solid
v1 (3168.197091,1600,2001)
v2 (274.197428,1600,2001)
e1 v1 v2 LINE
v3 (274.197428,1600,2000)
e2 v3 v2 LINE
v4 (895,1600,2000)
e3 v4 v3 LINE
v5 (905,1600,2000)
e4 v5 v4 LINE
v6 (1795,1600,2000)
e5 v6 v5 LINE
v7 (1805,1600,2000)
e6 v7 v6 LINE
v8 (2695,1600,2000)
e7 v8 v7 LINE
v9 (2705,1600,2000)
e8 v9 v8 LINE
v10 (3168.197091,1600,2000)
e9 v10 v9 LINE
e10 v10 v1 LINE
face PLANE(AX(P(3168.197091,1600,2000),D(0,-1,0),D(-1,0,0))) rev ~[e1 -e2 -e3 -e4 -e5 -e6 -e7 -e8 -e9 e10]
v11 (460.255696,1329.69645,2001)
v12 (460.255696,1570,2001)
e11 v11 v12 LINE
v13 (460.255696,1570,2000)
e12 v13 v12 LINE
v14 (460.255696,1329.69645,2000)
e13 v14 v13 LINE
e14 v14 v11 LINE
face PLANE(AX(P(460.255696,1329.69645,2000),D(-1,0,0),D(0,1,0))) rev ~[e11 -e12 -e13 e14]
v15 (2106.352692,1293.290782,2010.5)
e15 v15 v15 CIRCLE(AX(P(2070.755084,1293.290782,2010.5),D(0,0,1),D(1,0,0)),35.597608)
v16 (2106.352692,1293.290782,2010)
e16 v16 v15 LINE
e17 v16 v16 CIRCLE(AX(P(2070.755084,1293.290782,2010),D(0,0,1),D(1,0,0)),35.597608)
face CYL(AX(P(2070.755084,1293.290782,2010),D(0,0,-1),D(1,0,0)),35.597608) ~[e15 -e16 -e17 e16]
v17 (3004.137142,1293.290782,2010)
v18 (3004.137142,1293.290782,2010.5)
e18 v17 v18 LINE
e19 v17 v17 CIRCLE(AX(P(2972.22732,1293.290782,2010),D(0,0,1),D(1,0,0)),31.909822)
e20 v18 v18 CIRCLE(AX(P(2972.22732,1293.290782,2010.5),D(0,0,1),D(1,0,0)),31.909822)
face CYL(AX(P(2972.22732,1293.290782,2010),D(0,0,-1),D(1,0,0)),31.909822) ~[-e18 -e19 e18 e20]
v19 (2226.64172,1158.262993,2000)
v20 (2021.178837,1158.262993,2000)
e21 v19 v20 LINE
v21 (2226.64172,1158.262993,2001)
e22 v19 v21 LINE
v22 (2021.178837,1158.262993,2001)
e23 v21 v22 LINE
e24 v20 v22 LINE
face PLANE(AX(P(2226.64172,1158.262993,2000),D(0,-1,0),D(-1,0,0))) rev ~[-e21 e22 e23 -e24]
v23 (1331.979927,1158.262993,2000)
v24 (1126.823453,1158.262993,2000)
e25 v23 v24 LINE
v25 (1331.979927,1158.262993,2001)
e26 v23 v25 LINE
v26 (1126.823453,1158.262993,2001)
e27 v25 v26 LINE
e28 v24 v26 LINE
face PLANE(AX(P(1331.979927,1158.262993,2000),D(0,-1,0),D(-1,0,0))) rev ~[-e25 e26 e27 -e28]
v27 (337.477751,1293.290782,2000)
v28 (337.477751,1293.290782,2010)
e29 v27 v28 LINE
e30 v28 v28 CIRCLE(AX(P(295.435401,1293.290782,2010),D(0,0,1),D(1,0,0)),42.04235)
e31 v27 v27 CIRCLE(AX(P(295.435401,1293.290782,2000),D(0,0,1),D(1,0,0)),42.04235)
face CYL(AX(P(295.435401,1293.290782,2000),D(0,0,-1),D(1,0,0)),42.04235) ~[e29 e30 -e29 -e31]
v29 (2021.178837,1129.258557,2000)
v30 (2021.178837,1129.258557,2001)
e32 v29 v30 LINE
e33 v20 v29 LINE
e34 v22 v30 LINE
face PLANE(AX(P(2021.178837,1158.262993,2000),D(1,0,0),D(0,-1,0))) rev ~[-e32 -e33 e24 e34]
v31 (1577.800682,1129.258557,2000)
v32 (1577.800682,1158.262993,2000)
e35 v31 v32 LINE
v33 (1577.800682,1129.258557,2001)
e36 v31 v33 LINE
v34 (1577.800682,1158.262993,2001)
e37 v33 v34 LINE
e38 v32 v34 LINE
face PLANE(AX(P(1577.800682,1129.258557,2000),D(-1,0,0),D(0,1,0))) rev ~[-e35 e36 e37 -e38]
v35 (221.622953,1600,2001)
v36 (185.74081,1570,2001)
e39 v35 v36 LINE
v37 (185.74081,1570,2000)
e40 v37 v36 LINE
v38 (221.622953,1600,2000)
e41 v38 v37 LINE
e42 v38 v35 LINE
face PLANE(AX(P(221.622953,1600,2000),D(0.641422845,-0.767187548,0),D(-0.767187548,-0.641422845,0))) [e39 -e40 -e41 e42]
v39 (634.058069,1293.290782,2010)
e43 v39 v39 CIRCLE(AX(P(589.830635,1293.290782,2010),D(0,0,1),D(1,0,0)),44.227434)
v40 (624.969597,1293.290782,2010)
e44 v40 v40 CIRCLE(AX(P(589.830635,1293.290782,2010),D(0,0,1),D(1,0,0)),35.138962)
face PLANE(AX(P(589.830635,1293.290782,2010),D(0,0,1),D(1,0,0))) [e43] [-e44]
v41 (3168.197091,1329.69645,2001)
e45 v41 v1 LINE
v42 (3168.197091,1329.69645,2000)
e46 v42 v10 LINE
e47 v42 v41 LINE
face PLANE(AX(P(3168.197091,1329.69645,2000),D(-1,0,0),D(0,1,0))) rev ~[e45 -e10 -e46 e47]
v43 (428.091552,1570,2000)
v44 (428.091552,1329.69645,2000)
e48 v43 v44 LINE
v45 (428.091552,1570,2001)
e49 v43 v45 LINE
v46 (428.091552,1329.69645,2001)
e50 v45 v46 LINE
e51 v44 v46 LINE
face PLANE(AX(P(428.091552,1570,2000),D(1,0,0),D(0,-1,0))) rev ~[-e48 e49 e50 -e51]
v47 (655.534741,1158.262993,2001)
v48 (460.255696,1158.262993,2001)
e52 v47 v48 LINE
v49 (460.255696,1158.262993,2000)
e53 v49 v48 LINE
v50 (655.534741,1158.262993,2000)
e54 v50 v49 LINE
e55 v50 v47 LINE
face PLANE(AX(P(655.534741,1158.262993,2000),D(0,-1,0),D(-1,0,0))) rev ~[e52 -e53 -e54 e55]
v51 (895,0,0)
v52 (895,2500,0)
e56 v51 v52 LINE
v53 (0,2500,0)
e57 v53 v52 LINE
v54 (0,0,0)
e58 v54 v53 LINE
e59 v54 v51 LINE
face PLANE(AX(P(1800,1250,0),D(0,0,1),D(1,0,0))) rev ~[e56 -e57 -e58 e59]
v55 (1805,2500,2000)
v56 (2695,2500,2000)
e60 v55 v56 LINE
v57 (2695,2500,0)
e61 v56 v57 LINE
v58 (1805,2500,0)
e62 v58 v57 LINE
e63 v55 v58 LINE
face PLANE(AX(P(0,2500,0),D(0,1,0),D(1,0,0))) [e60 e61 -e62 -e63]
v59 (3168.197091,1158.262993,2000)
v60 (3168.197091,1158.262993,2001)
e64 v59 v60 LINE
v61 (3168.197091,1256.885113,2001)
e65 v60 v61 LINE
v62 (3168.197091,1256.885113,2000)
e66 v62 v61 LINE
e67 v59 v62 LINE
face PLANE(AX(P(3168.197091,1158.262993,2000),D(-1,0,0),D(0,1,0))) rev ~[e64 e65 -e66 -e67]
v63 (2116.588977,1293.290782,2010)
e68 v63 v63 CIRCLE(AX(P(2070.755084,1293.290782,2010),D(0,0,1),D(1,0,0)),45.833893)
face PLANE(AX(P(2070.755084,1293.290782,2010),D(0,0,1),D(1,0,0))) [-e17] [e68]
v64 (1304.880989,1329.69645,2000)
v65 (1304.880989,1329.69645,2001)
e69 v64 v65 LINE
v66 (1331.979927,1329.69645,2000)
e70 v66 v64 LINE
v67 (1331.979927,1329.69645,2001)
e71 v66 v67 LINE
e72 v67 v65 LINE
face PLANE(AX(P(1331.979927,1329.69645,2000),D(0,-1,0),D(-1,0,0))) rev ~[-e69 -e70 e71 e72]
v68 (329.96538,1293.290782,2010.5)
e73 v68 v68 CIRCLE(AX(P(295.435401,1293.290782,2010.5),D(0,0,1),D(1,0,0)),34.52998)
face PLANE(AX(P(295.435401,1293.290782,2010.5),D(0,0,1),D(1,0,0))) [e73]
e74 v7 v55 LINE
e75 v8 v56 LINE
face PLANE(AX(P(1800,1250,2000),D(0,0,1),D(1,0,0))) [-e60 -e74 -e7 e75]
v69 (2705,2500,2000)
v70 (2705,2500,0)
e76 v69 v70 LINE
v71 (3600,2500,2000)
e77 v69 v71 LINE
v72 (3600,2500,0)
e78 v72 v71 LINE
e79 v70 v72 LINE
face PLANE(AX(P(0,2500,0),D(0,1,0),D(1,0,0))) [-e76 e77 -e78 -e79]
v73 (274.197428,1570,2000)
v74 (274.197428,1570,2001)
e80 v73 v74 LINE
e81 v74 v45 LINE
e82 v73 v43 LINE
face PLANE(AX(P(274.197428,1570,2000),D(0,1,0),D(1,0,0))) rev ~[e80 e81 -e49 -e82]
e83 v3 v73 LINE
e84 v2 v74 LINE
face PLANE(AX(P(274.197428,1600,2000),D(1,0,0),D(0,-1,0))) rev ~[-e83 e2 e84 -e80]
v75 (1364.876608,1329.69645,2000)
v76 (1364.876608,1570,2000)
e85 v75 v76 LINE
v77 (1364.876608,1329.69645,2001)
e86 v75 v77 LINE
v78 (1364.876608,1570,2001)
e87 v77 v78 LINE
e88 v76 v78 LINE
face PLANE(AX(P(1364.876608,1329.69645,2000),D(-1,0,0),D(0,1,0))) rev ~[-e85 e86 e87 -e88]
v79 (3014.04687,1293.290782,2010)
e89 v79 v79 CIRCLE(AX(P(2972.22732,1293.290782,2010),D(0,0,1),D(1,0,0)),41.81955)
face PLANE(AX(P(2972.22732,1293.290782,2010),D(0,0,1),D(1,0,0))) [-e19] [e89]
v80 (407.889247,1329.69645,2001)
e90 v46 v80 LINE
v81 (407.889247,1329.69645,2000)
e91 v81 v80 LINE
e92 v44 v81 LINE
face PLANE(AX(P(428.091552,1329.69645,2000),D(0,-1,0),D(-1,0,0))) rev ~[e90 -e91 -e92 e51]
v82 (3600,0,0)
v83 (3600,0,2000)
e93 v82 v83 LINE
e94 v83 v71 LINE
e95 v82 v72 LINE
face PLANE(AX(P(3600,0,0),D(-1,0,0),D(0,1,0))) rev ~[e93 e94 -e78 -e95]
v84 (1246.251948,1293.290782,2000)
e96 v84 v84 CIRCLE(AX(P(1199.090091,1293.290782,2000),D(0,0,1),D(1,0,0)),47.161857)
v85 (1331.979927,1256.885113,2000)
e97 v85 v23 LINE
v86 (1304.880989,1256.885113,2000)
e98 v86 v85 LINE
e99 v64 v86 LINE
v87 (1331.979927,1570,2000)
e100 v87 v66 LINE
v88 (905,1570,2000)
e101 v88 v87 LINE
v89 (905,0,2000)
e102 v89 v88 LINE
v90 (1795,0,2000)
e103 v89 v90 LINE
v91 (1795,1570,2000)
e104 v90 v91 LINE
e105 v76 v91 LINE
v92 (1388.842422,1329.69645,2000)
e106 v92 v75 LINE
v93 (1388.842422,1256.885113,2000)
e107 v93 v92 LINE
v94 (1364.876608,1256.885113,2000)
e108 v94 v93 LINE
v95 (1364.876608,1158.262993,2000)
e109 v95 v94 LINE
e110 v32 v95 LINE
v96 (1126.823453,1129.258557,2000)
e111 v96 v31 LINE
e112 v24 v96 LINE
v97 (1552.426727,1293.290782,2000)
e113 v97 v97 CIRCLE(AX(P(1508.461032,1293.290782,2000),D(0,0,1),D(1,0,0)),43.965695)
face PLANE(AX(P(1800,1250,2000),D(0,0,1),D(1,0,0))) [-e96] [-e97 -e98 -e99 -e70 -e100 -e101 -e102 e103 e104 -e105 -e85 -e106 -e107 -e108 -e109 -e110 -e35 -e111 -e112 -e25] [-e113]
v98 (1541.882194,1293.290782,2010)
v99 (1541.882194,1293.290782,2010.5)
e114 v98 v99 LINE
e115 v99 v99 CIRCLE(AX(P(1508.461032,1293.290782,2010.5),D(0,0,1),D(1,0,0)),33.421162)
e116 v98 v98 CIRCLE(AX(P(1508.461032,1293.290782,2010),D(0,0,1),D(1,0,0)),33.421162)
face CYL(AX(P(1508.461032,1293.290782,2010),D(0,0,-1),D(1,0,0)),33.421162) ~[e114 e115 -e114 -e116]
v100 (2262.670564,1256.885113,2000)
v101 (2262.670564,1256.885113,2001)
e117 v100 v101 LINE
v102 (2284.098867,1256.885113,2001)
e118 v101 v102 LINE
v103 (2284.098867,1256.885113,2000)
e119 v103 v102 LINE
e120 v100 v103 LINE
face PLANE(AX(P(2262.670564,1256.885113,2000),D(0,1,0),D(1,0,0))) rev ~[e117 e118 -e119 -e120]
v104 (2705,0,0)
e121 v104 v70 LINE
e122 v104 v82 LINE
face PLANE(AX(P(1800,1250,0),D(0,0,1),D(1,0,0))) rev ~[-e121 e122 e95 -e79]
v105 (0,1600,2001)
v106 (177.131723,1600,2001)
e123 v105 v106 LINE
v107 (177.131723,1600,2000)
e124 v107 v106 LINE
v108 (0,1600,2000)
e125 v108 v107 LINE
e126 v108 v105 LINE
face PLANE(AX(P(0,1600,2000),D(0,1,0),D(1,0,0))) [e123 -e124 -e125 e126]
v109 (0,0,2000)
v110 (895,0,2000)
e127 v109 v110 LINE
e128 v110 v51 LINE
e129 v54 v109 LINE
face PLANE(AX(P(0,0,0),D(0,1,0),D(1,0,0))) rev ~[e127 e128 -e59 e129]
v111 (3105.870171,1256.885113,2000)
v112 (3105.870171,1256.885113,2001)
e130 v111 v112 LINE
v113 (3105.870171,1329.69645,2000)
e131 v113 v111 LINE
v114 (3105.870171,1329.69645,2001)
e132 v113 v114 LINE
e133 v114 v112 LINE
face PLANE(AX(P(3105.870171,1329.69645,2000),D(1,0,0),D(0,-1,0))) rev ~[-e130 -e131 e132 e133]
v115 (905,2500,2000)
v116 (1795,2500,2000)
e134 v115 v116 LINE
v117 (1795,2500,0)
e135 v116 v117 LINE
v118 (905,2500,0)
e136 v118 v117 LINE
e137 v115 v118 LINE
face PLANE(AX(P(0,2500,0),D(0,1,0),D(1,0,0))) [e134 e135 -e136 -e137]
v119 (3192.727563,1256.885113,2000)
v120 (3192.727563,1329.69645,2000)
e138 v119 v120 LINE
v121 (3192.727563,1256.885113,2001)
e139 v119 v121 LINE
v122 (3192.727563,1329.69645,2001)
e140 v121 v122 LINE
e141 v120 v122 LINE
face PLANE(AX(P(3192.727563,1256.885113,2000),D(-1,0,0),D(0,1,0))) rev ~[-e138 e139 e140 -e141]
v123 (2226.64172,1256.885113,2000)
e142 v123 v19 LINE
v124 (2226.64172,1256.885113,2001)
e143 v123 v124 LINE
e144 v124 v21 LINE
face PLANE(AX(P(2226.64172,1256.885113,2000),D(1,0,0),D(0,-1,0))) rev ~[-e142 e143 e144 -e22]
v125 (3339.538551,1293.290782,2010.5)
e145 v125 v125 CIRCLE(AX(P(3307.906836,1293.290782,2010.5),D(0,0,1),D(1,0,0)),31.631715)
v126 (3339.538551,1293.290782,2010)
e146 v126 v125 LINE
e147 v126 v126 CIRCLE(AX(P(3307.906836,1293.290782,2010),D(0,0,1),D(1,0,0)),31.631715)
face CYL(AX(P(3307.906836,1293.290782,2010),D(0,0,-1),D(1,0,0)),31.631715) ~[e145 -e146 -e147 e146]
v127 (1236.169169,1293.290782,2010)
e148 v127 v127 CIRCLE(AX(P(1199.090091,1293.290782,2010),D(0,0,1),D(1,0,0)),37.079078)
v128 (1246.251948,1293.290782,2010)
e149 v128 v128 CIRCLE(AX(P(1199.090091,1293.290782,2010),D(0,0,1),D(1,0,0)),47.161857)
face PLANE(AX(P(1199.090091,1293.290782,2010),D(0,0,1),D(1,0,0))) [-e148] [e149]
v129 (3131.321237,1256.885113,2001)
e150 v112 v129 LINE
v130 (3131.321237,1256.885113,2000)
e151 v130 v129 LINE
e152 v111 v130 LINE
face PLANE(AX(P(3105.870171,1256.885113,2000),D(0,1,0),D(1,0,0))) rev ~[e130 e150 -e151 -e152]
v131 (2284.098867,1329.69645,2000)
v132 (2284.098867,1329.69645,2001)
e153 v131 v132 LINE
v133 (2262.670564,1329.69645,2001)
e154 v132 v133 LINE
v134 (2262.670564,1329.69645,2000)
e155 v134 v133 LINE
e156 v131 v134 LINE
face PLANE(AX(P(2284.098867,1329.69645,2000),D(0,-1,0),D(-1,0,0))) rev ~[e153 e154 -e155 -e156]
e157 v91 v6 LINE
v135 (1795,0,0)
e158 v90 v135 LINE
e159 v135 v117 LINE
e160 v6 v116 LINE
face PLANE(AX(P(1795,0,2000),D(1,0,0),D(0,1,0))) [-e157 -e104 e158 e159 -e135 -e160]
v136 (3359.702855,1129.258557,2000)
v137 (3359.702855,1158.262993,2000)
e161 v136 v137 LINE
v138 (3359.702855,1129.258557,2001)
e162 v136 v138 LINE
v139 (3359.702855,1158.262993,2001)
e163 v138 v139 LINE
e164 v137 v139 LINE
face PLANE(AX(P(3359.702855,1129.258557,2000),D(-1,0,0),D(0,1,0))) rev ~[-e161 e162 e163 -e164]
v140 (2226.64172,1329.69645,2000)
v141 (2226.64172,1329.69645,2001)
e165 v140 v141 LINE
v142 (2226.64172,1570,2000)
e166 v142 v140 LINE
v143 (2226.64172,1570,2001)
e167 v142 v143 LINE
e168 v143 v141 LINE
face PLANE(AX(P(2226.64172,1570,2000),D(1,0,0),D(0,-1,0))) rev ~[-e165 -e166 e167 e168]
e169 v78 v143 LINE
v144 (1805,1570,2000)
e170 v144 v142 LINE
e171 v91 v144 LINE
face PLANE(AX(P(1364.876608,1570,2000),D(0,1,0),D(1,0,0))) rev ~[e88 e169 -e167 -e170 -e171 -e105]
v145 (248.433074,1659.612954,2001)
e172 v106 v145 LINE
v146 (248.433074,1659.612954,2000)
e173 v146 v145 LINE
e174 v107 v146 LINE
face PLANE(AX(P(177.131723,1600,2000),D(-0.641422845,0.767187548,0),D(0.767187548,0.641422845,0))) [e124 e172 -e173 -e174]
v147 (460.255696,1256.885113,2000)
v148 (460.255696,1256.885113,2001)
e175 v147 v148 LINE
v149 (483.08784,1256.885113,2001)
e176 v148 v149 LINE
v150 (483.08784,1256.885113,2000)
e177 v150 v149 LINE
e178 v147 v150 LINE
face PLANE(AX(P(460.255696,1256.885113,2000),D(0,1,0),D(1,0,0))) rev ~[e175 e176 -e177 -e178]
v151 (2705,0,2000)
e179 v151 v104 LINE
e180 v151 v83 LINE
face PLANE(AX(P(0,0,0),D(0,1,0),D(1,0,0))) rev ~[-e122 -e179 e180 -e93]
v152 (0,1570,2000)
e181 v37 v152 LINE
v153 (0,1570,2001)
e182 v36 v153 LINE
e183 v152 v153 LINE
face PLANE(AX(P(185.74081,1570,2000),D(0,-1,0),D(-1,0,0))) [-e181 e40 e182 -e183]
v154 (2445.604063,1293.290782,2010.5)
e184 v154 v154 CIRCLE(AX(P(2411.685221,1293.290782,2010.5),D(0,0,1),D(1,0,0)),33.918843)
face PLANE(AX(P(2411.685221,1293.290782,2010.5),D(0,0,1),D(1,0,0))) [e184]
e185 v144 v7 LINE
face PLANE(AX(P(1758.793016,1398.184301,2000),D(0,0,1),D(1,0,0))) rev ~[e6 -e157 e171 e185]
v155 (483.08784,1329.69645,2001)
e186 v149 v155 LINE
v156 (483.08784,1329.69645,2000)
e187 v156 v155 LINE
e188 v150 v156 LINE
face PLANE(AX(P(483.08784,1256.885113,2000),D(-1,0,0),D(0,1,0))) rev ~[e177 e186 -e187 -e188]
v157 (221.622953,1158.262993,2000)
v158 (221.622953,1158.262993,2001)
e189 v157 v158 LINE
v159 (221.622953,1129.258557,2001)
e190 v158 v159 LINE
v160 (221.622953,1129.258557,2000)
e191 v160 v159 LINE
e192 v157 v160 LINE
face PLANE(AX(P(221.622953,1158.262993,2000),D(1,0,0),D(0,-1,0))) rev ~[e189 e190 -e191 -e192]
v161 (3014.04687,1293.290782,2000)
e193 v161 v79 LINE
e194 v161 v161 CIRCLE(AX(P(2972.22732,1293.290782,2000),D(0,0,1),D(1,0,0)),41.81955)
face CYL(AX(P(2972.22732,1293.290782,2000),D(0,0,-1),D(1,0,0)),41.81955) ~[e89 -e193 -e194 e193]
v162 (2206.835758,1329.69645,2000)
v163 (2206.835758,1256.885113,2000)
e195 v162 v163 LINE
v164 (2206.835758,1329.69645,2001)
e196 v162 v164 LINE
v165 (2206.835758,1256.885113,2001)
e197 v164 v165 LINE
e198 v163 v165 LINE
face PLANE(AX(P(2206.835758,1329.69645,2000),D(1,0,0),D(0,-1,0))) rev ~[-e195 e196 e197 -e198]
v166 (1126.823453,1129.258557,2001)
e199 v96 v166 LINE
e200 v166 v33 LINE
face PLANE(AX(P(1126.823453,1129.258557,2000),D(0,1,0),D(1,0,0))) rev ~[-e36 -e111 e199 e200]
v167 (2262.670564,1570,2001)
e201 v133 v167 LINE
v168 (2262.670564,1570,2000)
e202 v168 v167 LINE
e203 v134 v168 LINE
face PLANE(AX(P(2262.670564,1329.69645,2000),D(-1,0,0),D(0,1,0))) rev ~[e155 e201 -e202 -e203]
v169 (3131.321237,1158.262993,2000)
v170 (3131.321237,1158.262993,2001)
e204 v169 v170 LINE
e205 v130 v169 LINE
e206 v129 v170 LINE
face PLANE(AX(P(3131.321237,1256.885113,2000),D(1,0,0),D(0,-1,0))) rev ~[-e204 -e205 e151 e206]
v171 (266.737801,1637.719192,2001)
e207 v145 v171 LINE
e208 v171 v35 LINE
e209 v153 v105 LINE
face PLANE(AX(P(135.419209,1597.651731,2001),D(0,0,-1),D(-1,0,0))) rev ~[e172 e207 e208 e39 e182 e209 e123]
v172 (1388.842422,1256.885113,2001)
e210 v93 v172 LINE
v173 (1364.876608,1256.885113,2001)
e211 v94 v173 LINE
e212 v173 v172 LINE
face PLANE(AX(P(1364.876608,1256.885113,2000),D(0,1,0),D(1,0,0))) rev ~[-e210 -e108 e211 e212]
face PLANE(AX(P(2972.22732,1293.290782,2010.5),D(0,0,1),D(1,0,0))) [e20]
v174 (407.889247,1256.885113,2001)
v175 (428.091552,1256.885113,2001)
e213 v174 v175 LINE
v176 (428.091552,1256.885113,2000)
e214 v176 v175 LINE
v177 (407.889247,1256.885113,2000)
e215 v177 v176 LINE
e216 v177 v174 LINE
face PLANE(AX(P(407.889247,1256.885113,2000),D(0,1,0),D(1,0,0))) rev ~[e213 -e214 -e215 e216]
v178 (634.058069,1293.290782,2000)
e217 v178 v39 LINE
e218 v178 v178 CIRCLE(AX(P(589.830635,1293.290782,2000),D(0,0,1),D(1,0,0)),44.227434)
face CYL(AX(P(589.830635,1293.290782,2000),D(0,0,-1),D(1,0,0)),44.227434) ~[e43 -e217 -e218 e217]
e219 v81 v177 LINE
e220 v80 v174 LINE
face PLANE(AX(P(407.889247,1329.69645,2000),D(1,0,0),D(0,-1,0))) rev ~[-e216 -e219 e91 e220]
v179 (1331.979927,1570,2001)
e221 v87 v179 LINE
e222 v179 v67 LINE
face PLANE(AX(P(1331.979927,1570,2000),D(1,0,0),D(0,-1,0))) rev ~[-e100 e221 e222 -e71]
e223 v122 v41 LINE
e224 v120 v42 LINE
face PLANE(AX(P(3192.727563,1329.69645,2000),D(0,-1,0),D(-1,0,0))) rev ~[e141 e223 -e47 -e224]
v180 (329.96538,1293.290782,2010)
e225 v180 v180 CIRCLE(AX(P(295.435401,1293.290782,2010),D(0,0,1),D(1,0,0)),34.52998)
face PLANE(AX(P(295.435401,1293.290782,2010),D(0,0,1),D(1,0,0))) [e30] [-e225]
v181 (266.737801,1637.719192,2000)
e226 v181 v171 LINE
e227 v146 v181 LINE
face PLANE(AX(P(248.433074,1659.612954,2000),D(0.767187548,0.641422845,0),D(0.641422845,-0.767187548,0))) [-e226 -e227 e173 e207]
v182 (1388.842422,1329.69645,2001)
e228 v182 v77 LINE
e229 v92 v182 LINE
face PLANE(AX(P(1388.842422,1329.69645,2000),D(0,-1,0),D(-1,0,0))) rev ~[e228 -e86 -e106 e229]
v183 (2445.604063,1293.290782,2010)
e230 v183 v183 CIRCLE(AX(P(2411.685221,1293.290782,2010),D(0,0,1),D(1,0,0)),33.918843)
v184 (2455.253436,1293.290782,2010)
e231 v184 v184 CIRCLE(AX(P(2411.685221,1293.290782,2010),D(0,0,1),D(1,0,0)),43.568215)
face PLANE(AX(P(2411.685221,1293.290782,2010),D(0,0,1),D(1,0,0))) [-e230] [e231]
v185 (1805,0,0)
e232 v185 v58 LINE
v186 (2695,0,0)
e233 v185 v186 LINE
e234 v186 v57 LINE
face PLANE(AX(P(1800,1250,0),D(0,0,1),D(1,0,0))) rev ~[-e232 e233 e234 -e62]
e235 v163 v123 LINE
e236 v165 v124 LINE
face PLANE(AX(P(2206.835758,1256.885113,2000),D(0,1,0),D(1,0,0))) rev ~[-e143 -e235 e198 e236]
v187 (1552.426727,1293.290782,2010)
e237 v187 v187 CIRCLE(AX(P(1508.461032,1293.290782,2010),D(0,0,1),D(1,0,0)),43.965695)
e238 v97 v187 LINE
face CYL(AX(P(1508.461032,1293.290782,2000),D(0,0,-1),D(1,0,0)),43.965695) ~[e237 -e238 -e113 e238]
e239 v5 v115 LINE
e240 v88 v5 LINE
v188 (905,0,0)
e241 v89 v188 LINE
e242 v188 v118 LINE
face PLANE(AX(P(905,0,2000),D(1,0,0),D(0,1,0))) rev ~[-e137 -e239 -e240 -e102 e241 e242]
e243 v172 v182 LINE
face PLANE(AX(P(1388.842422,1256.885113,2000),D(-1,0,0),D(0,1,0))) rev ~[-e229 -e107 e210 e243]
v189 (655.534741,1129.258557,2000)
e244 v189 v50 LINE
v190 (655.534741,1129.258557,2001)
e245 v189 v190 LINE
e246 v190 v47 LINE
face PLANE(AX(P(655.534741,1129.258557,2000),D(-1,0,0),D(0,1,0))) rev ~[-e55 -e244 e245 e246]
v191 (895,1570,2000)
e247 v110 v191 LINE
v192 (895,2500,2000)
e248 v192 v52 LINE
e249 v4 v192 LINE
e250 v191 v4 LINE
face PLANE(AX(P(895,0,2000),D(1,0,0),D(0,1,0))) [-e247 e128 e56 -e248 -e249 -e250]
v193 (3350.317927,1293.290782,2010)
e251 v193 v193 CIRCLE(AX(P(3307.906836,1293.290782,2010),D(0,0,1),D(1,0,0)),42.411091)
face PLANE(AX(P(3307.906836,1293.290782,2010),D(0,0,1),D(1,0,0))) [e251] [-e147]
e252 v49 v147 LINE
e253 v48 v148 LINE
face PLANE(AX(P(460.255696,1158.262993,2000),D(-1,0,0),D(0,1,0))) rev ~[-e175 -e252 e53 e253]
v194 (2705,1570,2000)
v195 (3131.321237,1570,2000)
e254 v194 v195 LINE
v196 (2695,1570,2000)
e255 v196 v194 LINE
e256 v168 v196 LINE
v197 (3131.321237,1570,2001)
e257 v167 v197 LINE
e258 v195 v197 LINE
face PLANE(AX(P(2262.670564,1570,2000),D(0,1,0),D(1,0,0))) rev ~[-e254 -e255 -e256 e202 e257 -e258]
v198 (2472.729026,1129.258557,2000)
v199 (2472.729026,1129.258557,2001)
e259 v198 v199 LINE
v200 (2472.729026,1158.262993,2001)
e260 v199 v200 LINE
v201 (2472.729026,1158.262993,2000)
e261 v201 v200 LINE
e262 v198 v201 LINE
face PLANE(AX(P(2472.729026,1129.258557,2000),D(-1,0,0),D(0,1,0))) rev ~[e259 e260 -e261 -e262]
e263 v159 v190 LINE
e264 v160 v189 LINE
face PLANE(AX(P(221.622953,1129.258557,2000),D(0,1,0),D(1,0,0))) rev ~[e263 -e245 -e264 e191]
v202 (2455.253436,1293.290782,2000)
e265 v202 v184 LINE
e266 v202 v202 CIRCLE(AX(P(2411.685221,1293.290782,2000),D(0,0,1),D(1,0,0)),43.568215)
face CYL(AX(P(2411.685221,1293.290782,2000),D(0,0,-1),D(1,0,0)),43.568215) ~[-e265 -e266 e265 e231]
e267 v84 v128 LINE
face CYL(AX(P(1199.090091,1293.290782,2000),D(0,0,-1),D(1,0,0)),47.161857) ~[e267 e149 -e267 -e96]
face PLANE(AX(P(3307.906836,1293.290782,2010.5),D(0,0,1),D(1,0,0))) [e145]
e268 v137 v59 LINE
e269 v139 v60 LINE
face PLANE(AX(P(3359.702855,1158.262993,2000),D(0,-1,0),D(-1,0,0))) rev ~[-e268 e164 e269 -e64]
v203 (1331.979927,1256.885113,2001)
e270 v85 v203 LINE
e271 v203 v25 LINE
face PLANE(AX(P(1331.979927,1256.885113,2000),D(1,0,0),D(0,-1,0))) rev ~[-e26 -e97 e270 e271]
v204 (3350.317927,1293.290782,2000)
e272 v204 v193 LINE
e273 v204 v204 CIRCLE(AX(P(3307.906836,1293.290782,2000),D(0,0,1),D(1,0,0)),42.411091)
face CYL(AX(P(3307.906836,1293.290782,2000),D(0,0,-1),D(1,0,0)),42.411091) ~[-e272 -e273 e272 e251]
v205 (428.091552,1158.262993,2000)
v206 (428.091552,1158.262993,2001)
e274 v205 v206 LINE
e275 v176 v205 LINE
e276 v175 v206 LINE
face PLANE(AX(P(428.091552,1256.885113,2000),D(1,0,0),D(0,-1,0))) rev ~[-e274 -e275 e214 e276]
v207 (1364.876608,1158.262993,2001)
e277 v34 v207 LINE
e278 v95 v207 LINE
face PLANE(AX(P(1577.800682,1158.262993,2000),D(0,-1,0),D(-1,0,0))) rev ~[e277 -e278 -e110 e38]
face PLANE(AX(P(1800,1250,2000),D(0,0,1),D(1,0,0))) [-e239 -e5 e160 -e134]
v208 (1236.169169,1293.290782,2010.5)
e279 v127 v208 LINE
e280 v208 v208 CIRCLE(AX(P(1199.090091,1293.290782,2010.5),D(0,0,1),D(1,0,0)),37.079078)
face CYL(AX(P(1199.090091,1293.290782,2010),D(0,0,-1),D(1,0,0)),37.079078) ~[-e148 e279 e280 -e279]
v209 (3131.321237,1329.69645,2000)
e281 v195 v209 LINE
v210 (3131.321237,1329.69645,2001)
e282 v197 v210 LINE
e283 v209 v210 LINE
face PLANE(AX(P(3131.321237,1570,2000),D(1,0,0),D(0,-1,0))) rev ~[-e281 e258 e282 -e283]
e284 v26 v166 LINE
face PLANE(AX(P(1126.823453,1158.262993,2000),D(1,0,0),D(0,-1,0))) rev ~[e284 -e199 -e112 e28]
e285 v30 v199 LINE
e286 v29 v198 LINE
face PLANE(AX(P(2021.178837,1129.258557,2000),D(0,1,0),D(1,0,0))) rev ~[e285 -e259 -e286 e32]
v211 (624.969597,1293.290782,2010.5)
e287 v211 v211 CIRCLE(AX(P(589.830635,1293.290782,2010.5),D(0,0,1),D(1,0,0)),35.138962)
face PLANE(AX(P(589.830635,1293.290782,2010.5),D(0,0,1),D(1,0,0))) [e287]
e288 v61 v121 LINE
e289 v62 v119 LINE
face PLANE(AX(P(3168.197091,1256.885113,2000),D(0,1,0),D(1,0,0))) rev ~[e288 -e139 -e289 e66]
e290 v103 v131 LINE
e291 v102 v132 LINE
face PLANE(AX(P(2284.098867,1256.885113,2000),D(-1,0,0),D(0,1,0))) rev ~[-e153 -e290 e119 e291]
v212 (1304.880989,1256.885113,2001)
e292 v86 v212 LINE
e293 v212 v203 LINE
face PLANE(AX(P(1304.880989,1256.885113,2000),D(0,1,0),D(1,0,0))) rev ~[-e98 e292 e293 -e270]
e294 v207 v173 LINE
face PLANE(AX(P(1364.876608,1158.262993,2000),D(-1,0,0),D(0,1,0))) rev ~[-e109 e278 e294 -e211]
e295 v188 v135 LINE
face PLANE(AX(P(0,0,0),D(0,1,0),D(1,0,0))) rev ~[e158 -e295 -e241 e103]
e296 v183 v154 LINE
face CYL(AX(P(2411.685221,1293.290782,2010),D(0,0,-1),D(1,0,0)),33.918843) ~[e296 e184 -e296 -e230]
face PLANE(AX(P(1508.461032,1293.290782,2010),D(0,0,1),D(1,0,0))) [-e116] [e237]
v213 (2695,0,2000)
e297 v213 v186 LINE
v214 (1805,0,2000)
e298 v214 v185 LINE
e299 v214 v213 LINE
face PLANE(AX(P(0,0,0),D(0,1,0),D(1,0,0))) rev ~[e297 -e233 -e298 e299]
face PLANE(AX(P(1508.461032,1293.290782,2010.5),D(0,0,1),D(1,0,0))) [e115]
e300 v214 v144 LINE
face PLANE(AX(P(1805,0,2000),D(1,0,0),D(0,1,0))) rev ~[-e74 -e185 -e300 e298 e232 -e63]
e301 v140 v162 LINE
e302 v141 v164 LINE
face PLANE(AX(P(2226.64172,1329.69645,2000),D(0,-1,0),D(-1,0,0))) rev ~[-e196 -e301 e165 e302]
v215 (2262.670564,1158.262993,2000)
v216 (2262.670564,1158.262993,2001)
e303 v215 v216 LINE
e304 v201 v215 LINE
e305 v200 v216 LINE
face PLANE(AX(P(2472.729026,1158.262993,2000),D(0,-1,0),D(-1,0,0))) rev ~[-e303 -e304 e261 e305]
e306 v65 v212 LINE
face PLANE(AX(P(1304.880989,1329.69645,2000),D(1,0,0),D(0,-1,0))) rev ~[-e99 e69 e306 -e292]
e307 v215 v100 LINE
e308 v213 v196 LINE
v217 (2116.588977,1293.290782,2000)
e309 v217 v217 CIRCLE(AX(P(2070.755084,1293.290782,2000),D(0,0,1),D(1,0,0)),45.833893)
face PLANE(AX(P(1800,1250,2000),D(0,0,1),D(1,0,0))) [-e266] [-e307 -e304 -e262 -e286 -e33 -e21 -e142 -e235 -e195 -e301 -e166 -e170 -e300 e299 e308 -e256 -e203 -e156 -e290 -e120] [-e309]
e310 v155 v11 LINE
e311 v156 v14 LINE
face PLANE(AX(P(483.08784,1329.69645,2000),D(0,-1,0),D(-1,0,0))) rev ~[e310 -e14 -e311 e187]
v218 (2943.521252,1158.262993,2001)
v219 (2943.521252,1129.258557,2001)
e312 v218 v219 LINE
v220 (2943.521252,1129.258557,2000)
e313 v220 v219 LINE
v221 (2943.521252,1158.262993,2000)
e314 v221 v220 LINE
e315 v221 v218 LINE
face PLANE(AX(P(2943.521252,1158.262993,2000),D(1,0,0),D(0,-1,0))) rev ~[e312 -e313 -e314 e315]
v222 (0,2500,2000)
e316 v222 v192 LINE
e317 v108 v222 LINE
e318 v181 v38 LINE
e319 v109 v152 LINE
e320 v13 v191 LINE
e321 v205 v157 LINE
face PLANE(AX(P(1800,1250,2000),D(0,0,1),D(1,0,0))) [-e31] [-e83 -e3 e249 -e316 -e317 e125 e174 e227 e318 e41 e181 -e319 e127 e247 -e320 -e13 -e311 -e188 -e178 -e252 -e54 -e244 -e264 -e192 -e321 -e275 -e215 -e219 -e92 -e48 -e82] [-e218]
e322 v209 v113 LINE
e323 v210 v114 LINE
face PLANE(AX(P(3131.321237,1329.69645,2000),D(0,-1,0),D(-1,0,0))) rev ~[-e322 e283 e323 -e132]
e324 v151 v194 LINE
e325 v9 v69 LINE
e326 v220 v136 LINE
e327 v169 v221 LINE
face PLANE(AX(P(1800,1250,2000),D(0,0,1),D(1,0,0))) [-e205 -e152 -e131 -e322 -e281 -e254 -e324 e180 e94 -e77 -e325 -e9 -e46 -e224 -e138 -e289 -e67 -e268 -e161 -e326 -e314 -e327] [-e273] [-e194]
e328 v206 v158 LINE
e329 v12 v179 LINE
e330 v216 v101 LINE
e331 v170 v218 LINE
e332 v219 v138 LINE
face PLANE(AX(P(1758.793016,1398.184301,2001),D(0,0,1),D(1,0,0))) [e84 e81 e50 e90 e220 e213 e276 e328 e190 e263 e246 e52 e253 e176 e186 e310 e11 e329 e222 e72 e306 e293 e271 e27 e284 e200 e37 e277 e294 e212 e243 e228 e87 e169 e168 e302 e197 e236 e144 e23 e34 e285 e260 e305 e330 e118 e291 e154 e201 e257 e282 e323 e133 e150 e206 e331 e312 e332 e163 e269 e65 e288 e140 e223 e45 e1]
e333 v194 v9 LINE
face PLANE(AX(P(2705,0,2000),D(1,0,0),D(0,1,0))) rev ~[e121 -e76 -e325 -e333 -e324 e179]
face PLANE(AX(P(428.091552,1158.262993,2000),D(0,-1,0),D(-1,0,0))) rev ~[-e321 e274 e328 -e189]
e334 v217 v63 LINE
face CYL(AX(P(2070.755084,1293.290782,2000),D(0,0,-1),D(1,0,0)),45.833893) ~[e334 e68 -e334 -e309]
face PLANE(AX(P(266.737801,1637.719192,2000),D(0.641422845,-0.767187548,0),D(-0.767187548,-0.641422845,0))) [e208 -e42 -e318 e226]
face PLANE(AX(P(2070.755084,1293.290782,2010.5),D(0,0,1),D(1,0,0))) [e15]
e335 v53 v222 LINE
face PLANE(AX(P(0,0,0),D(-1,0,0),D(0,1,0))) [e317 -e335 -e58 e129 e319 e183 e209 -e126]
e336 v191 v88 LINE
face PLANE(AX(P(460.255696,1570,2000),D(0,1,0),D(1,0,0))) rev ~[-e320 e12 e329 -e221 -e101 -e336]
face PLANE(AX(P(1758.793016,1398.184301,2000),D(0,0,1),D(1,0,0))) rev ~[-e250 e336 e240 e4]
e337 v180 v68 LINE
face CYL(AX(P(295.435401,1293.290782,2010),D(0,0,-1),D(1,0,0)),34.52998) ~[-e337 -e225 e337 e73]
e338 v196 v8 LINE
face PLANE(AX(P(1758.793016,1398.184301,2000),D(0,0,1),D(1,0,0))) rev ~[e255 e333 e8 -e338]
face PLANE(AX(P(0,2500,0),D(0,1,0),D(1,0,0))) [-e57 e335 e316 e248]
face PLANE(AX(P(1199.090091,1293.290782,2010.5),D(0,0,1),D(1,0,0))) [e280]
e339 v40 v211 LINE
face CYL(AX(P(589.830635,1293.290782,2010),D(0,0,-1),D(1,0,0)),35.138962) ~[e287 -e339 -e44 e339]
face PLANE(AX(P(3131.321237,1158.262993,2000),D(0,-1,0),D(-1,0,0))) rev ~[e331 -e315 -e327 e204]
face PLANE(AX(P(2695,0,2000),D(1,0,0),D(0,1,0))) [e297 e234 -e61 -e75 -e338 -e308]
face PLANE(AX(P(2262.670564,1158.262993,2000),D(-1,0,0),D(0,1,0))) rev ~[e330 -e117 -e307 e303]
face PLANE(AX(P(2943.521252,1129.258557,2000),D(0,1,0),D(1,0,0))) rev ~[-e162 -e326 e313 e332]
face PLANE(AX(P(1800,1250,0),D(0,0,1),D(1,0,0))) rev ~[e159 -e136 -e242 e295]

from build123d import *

# Parameters (mm, degrees)
CROQUIS1_W              = 3600
CROQUIS1_H              = 2500
SALIENTE_EXTRUIR1_DEPTH = 2000
CROQUIS3_W              = 10
CROQUIS3_H              = 2500
CORTAR_EXTRUIR1_DEPTH   = 2000
SALIENTE_EXTRUIR2_DEPTH = 1
CROQUIS5_R              = 42.042349856
CROQUIS5_R_2            = 44.227433636
CROQUIS5_R_3            = 47.161857107
CROQUIS5_R_4            = 43.965695281
CROQUIS5_R_5            = 45.833892846
CROQUIS5_R_6            = 43.568215229
CROQUIS5_R_7            = 41.81955042
CROQUIS5_R_8            = 42.411091006
SALIENTE_EXTRUIR3_DEPTH = 10
CROQUIS6_R              = 34.529979584
CROQUIS6_R_2            = 35.138962303
CROQUIS6_R_3            = 37.079078028
CROQUIS6_R_4            = 33.421162006
CROQUIS6_R_5            = 35.597607771
CROQUIS6_R_6            = 33.918842717
CROQUIS6_R_7            = 31.90982207
CROQUIS6_R_8            = 31.631714901
SALIENTE_EXTRUIR4_DEPTH = 0.5


with BuildPart() as part:
    # Croquis1 → Saliente-Extruir1 (new body)
    with BuildSketch(Plane.XY):
        with Locations((1800, 1250)):
            Rectangle(CROQUIS1_W, CROQUIS1_H)
    extrude(amount=SALIENTE_EXTRUIR1_DEPTH)

    # Croquis3 → Cortar-Extruir1 (cut)
    with BuildSketch(Plane.XY.offset(2000)):
        with Locations((900, 1250)):
            Rectangle(CROQUIS3_W, CROQUIS3_H)
        with Locations((1800, 1250)):
            Rectangle(CROQUIS3_W, CROQUIS3_H)
        with Locations((2700, 1250)):
            Rectangle(CROQUIS3_W, CROQUIS3_H)
    extrude(amount=-CORTAR_EXTRUIR1_DEPTH, mode=Mode.SUBTRACT)

    # Croquis4 → Saliente-Extruir2 (add)
    with BuildSketch(Plane.XY.offset(2000)):
        Polygon((0, 1600), (177.131722561, 1600), (248.433073904, 1659.612953528), (266.737801234, 1637.719191898), (221.622952956, 1600), (185.740809669, 1570), (0, 1570), align=None)
        Polygon((2262.67056397, 1570), (3131.321237056, 1570), (3131.321237056, 1329.696449822), (3105.870170693, 1329.696449822), (3105.870170693, 1256.885113309), (3131.321237056, 1256.885113309), (3131.321237056, 1158.262993453), (2943.521251595, 1158.262993453), (2943.521251595, 1129.2585574), (3359.702855334, 1129.2585574), (3359.702855334, 1158.262993453), (3168.197091237, 1158.262993453), (3168.197091237, 1256.885113309), (3192.727563387, 1256.885113309), (3192.727563387, 1329.696449822), (3168.197091237, 1329.696449822), (3168.197091237, 1570), (3168.197091237, 1600), (274.19742775, 1600), (274.19742775, 1570), (428.091552217, 1570), (428.091552217, 1329.696449822), (407.889246887, 1329.696449822), (407.889246887, 1256.885113309), (428.091552217, 1256.885113309), (428.091552217, 1158.262993453), (221.622952956, 1158.262993453), (221.622952956, 1129.2585574), (655.534740684, 1129.2585574), (655.534740684, 1158.262993453), (460.255695781, 1158.262993453), (460.255695781, 1256.885113309), (483.087840335, 1256.885113309), (483.087840335, 1329.696449822), (460.255695781, 1329.696449822), (460.255695781, 1570), (1331.979926835, 1570), (1331.979926835, 1329.696449822), (1304.880988731, 1329.696449822), (1304.880988731, 1256.885113309), (1331.979926835, 1256.885113309), (1331.979926835, 1158.262993453), (1126.823452844, 1158.262993453), (1126.823452844, 1129.2585574), (1577.800681664, 1129.2585574), (1577.800681664, 1158.262993453), (1364.876608308, 1158.262993453), (1364.876608308, 1256.885113309), (1388.842422483, 1256.885113309), (1388.842422483, 1329.696449822), (1364.876608308, 1329.696449822), (1364.876608308, 1570), (2226.641720181, 1570), (2226.641720181, 1329.696449822), (2206.83575822, 1329.696449822), (2206.83575822, 1256.885113309), (2226.641720181, 1256.885113309), (2226.641720181, 1158.262993453), (2021.178837256, 1158.262993453), (2021.178837256, 1129.2585574), (2472.729026323, 1129.2585574), (2472.729026323, 1158.262993453), (2262.67056397, 1158.262993453), (2262.67056397, 1256.885113309), (2284.098867396, 1256.885113309), (2284.098867396, 1329.696449822), (2262.67056397, 1329.696449822), align=None)
    extrude(amount=SALIENTE_EXTRUIR2_DEPTH)

    # Croquis5 → Saliente-Extruir3 (add)
    with BuildSketch(Plane.XY.offset(2000)):
        with Locations((295.435400679, 1293.290781566)):
            Circle(CROQUIS5_R)
        with Locations((589.830635079, 1293.290781566)):
            Circle(CROQUIS5_R_2)
        with Locations((1199.09009137, 1293.290781566)):
            Circle(CROQUIS5_R_3)
        with Locations((1508.461031639, 1293.290781566)):
            Circle(CROQUIS5_R_4)
        with Locations((2070.755084005, 1293.290781566)):
            Circle(CROQUIS5_R_5)
        with Locations((2411.685220759, 1293.290781566)):
            Circle(CROQUIS5_R_6)
        with Locations((2972.227319814, 1293.290781566)):
            Circle(CROQUIS5_R_7)
        with Locations((3307.906835958, 1293.290781566)):
            Circle(CROQUIS5_R_8)
    extrude(amount=SALIENTE_EXTRUIR3_DEPTH)

    # Croquis6 → Saliente-Extruir4 (add)
    with BuildSketch(Plane.XY.offset(2010)):
        with Locations((295.435400679, 1293.290781566)):
            Circle(CROQUIS6_R)
        with Locations((589.830635079, 1293.290781566)):
            Circle(CROQUIS6_R_2)
        with Locations((1199.09009137, 1293.290781566)):
            Circle(CROQUIS6_R_3)
        with Locations((1508.461031639, 1293.290781566)):
            Circle(CROQUIS6_R_4)
        with Locations((2070.755084005, 1293.290781566)):
            Circle(CROQUIS6_R_5)
        with Locations((2411.685220759, 1293.290781566)):
            Circle(CROQUIS6_R_6)
        with Locations((2972.227319814, 1293.290781566)):
            Circle(CROQUIS6_R_7)
        with Locations((3307.906835958, 1293.290781566)):
            Circle(CROQUIS6_R_8)
    extrude(amount=SALIENTE_EXTRUIR4_DEPTH)


solid = part.part
